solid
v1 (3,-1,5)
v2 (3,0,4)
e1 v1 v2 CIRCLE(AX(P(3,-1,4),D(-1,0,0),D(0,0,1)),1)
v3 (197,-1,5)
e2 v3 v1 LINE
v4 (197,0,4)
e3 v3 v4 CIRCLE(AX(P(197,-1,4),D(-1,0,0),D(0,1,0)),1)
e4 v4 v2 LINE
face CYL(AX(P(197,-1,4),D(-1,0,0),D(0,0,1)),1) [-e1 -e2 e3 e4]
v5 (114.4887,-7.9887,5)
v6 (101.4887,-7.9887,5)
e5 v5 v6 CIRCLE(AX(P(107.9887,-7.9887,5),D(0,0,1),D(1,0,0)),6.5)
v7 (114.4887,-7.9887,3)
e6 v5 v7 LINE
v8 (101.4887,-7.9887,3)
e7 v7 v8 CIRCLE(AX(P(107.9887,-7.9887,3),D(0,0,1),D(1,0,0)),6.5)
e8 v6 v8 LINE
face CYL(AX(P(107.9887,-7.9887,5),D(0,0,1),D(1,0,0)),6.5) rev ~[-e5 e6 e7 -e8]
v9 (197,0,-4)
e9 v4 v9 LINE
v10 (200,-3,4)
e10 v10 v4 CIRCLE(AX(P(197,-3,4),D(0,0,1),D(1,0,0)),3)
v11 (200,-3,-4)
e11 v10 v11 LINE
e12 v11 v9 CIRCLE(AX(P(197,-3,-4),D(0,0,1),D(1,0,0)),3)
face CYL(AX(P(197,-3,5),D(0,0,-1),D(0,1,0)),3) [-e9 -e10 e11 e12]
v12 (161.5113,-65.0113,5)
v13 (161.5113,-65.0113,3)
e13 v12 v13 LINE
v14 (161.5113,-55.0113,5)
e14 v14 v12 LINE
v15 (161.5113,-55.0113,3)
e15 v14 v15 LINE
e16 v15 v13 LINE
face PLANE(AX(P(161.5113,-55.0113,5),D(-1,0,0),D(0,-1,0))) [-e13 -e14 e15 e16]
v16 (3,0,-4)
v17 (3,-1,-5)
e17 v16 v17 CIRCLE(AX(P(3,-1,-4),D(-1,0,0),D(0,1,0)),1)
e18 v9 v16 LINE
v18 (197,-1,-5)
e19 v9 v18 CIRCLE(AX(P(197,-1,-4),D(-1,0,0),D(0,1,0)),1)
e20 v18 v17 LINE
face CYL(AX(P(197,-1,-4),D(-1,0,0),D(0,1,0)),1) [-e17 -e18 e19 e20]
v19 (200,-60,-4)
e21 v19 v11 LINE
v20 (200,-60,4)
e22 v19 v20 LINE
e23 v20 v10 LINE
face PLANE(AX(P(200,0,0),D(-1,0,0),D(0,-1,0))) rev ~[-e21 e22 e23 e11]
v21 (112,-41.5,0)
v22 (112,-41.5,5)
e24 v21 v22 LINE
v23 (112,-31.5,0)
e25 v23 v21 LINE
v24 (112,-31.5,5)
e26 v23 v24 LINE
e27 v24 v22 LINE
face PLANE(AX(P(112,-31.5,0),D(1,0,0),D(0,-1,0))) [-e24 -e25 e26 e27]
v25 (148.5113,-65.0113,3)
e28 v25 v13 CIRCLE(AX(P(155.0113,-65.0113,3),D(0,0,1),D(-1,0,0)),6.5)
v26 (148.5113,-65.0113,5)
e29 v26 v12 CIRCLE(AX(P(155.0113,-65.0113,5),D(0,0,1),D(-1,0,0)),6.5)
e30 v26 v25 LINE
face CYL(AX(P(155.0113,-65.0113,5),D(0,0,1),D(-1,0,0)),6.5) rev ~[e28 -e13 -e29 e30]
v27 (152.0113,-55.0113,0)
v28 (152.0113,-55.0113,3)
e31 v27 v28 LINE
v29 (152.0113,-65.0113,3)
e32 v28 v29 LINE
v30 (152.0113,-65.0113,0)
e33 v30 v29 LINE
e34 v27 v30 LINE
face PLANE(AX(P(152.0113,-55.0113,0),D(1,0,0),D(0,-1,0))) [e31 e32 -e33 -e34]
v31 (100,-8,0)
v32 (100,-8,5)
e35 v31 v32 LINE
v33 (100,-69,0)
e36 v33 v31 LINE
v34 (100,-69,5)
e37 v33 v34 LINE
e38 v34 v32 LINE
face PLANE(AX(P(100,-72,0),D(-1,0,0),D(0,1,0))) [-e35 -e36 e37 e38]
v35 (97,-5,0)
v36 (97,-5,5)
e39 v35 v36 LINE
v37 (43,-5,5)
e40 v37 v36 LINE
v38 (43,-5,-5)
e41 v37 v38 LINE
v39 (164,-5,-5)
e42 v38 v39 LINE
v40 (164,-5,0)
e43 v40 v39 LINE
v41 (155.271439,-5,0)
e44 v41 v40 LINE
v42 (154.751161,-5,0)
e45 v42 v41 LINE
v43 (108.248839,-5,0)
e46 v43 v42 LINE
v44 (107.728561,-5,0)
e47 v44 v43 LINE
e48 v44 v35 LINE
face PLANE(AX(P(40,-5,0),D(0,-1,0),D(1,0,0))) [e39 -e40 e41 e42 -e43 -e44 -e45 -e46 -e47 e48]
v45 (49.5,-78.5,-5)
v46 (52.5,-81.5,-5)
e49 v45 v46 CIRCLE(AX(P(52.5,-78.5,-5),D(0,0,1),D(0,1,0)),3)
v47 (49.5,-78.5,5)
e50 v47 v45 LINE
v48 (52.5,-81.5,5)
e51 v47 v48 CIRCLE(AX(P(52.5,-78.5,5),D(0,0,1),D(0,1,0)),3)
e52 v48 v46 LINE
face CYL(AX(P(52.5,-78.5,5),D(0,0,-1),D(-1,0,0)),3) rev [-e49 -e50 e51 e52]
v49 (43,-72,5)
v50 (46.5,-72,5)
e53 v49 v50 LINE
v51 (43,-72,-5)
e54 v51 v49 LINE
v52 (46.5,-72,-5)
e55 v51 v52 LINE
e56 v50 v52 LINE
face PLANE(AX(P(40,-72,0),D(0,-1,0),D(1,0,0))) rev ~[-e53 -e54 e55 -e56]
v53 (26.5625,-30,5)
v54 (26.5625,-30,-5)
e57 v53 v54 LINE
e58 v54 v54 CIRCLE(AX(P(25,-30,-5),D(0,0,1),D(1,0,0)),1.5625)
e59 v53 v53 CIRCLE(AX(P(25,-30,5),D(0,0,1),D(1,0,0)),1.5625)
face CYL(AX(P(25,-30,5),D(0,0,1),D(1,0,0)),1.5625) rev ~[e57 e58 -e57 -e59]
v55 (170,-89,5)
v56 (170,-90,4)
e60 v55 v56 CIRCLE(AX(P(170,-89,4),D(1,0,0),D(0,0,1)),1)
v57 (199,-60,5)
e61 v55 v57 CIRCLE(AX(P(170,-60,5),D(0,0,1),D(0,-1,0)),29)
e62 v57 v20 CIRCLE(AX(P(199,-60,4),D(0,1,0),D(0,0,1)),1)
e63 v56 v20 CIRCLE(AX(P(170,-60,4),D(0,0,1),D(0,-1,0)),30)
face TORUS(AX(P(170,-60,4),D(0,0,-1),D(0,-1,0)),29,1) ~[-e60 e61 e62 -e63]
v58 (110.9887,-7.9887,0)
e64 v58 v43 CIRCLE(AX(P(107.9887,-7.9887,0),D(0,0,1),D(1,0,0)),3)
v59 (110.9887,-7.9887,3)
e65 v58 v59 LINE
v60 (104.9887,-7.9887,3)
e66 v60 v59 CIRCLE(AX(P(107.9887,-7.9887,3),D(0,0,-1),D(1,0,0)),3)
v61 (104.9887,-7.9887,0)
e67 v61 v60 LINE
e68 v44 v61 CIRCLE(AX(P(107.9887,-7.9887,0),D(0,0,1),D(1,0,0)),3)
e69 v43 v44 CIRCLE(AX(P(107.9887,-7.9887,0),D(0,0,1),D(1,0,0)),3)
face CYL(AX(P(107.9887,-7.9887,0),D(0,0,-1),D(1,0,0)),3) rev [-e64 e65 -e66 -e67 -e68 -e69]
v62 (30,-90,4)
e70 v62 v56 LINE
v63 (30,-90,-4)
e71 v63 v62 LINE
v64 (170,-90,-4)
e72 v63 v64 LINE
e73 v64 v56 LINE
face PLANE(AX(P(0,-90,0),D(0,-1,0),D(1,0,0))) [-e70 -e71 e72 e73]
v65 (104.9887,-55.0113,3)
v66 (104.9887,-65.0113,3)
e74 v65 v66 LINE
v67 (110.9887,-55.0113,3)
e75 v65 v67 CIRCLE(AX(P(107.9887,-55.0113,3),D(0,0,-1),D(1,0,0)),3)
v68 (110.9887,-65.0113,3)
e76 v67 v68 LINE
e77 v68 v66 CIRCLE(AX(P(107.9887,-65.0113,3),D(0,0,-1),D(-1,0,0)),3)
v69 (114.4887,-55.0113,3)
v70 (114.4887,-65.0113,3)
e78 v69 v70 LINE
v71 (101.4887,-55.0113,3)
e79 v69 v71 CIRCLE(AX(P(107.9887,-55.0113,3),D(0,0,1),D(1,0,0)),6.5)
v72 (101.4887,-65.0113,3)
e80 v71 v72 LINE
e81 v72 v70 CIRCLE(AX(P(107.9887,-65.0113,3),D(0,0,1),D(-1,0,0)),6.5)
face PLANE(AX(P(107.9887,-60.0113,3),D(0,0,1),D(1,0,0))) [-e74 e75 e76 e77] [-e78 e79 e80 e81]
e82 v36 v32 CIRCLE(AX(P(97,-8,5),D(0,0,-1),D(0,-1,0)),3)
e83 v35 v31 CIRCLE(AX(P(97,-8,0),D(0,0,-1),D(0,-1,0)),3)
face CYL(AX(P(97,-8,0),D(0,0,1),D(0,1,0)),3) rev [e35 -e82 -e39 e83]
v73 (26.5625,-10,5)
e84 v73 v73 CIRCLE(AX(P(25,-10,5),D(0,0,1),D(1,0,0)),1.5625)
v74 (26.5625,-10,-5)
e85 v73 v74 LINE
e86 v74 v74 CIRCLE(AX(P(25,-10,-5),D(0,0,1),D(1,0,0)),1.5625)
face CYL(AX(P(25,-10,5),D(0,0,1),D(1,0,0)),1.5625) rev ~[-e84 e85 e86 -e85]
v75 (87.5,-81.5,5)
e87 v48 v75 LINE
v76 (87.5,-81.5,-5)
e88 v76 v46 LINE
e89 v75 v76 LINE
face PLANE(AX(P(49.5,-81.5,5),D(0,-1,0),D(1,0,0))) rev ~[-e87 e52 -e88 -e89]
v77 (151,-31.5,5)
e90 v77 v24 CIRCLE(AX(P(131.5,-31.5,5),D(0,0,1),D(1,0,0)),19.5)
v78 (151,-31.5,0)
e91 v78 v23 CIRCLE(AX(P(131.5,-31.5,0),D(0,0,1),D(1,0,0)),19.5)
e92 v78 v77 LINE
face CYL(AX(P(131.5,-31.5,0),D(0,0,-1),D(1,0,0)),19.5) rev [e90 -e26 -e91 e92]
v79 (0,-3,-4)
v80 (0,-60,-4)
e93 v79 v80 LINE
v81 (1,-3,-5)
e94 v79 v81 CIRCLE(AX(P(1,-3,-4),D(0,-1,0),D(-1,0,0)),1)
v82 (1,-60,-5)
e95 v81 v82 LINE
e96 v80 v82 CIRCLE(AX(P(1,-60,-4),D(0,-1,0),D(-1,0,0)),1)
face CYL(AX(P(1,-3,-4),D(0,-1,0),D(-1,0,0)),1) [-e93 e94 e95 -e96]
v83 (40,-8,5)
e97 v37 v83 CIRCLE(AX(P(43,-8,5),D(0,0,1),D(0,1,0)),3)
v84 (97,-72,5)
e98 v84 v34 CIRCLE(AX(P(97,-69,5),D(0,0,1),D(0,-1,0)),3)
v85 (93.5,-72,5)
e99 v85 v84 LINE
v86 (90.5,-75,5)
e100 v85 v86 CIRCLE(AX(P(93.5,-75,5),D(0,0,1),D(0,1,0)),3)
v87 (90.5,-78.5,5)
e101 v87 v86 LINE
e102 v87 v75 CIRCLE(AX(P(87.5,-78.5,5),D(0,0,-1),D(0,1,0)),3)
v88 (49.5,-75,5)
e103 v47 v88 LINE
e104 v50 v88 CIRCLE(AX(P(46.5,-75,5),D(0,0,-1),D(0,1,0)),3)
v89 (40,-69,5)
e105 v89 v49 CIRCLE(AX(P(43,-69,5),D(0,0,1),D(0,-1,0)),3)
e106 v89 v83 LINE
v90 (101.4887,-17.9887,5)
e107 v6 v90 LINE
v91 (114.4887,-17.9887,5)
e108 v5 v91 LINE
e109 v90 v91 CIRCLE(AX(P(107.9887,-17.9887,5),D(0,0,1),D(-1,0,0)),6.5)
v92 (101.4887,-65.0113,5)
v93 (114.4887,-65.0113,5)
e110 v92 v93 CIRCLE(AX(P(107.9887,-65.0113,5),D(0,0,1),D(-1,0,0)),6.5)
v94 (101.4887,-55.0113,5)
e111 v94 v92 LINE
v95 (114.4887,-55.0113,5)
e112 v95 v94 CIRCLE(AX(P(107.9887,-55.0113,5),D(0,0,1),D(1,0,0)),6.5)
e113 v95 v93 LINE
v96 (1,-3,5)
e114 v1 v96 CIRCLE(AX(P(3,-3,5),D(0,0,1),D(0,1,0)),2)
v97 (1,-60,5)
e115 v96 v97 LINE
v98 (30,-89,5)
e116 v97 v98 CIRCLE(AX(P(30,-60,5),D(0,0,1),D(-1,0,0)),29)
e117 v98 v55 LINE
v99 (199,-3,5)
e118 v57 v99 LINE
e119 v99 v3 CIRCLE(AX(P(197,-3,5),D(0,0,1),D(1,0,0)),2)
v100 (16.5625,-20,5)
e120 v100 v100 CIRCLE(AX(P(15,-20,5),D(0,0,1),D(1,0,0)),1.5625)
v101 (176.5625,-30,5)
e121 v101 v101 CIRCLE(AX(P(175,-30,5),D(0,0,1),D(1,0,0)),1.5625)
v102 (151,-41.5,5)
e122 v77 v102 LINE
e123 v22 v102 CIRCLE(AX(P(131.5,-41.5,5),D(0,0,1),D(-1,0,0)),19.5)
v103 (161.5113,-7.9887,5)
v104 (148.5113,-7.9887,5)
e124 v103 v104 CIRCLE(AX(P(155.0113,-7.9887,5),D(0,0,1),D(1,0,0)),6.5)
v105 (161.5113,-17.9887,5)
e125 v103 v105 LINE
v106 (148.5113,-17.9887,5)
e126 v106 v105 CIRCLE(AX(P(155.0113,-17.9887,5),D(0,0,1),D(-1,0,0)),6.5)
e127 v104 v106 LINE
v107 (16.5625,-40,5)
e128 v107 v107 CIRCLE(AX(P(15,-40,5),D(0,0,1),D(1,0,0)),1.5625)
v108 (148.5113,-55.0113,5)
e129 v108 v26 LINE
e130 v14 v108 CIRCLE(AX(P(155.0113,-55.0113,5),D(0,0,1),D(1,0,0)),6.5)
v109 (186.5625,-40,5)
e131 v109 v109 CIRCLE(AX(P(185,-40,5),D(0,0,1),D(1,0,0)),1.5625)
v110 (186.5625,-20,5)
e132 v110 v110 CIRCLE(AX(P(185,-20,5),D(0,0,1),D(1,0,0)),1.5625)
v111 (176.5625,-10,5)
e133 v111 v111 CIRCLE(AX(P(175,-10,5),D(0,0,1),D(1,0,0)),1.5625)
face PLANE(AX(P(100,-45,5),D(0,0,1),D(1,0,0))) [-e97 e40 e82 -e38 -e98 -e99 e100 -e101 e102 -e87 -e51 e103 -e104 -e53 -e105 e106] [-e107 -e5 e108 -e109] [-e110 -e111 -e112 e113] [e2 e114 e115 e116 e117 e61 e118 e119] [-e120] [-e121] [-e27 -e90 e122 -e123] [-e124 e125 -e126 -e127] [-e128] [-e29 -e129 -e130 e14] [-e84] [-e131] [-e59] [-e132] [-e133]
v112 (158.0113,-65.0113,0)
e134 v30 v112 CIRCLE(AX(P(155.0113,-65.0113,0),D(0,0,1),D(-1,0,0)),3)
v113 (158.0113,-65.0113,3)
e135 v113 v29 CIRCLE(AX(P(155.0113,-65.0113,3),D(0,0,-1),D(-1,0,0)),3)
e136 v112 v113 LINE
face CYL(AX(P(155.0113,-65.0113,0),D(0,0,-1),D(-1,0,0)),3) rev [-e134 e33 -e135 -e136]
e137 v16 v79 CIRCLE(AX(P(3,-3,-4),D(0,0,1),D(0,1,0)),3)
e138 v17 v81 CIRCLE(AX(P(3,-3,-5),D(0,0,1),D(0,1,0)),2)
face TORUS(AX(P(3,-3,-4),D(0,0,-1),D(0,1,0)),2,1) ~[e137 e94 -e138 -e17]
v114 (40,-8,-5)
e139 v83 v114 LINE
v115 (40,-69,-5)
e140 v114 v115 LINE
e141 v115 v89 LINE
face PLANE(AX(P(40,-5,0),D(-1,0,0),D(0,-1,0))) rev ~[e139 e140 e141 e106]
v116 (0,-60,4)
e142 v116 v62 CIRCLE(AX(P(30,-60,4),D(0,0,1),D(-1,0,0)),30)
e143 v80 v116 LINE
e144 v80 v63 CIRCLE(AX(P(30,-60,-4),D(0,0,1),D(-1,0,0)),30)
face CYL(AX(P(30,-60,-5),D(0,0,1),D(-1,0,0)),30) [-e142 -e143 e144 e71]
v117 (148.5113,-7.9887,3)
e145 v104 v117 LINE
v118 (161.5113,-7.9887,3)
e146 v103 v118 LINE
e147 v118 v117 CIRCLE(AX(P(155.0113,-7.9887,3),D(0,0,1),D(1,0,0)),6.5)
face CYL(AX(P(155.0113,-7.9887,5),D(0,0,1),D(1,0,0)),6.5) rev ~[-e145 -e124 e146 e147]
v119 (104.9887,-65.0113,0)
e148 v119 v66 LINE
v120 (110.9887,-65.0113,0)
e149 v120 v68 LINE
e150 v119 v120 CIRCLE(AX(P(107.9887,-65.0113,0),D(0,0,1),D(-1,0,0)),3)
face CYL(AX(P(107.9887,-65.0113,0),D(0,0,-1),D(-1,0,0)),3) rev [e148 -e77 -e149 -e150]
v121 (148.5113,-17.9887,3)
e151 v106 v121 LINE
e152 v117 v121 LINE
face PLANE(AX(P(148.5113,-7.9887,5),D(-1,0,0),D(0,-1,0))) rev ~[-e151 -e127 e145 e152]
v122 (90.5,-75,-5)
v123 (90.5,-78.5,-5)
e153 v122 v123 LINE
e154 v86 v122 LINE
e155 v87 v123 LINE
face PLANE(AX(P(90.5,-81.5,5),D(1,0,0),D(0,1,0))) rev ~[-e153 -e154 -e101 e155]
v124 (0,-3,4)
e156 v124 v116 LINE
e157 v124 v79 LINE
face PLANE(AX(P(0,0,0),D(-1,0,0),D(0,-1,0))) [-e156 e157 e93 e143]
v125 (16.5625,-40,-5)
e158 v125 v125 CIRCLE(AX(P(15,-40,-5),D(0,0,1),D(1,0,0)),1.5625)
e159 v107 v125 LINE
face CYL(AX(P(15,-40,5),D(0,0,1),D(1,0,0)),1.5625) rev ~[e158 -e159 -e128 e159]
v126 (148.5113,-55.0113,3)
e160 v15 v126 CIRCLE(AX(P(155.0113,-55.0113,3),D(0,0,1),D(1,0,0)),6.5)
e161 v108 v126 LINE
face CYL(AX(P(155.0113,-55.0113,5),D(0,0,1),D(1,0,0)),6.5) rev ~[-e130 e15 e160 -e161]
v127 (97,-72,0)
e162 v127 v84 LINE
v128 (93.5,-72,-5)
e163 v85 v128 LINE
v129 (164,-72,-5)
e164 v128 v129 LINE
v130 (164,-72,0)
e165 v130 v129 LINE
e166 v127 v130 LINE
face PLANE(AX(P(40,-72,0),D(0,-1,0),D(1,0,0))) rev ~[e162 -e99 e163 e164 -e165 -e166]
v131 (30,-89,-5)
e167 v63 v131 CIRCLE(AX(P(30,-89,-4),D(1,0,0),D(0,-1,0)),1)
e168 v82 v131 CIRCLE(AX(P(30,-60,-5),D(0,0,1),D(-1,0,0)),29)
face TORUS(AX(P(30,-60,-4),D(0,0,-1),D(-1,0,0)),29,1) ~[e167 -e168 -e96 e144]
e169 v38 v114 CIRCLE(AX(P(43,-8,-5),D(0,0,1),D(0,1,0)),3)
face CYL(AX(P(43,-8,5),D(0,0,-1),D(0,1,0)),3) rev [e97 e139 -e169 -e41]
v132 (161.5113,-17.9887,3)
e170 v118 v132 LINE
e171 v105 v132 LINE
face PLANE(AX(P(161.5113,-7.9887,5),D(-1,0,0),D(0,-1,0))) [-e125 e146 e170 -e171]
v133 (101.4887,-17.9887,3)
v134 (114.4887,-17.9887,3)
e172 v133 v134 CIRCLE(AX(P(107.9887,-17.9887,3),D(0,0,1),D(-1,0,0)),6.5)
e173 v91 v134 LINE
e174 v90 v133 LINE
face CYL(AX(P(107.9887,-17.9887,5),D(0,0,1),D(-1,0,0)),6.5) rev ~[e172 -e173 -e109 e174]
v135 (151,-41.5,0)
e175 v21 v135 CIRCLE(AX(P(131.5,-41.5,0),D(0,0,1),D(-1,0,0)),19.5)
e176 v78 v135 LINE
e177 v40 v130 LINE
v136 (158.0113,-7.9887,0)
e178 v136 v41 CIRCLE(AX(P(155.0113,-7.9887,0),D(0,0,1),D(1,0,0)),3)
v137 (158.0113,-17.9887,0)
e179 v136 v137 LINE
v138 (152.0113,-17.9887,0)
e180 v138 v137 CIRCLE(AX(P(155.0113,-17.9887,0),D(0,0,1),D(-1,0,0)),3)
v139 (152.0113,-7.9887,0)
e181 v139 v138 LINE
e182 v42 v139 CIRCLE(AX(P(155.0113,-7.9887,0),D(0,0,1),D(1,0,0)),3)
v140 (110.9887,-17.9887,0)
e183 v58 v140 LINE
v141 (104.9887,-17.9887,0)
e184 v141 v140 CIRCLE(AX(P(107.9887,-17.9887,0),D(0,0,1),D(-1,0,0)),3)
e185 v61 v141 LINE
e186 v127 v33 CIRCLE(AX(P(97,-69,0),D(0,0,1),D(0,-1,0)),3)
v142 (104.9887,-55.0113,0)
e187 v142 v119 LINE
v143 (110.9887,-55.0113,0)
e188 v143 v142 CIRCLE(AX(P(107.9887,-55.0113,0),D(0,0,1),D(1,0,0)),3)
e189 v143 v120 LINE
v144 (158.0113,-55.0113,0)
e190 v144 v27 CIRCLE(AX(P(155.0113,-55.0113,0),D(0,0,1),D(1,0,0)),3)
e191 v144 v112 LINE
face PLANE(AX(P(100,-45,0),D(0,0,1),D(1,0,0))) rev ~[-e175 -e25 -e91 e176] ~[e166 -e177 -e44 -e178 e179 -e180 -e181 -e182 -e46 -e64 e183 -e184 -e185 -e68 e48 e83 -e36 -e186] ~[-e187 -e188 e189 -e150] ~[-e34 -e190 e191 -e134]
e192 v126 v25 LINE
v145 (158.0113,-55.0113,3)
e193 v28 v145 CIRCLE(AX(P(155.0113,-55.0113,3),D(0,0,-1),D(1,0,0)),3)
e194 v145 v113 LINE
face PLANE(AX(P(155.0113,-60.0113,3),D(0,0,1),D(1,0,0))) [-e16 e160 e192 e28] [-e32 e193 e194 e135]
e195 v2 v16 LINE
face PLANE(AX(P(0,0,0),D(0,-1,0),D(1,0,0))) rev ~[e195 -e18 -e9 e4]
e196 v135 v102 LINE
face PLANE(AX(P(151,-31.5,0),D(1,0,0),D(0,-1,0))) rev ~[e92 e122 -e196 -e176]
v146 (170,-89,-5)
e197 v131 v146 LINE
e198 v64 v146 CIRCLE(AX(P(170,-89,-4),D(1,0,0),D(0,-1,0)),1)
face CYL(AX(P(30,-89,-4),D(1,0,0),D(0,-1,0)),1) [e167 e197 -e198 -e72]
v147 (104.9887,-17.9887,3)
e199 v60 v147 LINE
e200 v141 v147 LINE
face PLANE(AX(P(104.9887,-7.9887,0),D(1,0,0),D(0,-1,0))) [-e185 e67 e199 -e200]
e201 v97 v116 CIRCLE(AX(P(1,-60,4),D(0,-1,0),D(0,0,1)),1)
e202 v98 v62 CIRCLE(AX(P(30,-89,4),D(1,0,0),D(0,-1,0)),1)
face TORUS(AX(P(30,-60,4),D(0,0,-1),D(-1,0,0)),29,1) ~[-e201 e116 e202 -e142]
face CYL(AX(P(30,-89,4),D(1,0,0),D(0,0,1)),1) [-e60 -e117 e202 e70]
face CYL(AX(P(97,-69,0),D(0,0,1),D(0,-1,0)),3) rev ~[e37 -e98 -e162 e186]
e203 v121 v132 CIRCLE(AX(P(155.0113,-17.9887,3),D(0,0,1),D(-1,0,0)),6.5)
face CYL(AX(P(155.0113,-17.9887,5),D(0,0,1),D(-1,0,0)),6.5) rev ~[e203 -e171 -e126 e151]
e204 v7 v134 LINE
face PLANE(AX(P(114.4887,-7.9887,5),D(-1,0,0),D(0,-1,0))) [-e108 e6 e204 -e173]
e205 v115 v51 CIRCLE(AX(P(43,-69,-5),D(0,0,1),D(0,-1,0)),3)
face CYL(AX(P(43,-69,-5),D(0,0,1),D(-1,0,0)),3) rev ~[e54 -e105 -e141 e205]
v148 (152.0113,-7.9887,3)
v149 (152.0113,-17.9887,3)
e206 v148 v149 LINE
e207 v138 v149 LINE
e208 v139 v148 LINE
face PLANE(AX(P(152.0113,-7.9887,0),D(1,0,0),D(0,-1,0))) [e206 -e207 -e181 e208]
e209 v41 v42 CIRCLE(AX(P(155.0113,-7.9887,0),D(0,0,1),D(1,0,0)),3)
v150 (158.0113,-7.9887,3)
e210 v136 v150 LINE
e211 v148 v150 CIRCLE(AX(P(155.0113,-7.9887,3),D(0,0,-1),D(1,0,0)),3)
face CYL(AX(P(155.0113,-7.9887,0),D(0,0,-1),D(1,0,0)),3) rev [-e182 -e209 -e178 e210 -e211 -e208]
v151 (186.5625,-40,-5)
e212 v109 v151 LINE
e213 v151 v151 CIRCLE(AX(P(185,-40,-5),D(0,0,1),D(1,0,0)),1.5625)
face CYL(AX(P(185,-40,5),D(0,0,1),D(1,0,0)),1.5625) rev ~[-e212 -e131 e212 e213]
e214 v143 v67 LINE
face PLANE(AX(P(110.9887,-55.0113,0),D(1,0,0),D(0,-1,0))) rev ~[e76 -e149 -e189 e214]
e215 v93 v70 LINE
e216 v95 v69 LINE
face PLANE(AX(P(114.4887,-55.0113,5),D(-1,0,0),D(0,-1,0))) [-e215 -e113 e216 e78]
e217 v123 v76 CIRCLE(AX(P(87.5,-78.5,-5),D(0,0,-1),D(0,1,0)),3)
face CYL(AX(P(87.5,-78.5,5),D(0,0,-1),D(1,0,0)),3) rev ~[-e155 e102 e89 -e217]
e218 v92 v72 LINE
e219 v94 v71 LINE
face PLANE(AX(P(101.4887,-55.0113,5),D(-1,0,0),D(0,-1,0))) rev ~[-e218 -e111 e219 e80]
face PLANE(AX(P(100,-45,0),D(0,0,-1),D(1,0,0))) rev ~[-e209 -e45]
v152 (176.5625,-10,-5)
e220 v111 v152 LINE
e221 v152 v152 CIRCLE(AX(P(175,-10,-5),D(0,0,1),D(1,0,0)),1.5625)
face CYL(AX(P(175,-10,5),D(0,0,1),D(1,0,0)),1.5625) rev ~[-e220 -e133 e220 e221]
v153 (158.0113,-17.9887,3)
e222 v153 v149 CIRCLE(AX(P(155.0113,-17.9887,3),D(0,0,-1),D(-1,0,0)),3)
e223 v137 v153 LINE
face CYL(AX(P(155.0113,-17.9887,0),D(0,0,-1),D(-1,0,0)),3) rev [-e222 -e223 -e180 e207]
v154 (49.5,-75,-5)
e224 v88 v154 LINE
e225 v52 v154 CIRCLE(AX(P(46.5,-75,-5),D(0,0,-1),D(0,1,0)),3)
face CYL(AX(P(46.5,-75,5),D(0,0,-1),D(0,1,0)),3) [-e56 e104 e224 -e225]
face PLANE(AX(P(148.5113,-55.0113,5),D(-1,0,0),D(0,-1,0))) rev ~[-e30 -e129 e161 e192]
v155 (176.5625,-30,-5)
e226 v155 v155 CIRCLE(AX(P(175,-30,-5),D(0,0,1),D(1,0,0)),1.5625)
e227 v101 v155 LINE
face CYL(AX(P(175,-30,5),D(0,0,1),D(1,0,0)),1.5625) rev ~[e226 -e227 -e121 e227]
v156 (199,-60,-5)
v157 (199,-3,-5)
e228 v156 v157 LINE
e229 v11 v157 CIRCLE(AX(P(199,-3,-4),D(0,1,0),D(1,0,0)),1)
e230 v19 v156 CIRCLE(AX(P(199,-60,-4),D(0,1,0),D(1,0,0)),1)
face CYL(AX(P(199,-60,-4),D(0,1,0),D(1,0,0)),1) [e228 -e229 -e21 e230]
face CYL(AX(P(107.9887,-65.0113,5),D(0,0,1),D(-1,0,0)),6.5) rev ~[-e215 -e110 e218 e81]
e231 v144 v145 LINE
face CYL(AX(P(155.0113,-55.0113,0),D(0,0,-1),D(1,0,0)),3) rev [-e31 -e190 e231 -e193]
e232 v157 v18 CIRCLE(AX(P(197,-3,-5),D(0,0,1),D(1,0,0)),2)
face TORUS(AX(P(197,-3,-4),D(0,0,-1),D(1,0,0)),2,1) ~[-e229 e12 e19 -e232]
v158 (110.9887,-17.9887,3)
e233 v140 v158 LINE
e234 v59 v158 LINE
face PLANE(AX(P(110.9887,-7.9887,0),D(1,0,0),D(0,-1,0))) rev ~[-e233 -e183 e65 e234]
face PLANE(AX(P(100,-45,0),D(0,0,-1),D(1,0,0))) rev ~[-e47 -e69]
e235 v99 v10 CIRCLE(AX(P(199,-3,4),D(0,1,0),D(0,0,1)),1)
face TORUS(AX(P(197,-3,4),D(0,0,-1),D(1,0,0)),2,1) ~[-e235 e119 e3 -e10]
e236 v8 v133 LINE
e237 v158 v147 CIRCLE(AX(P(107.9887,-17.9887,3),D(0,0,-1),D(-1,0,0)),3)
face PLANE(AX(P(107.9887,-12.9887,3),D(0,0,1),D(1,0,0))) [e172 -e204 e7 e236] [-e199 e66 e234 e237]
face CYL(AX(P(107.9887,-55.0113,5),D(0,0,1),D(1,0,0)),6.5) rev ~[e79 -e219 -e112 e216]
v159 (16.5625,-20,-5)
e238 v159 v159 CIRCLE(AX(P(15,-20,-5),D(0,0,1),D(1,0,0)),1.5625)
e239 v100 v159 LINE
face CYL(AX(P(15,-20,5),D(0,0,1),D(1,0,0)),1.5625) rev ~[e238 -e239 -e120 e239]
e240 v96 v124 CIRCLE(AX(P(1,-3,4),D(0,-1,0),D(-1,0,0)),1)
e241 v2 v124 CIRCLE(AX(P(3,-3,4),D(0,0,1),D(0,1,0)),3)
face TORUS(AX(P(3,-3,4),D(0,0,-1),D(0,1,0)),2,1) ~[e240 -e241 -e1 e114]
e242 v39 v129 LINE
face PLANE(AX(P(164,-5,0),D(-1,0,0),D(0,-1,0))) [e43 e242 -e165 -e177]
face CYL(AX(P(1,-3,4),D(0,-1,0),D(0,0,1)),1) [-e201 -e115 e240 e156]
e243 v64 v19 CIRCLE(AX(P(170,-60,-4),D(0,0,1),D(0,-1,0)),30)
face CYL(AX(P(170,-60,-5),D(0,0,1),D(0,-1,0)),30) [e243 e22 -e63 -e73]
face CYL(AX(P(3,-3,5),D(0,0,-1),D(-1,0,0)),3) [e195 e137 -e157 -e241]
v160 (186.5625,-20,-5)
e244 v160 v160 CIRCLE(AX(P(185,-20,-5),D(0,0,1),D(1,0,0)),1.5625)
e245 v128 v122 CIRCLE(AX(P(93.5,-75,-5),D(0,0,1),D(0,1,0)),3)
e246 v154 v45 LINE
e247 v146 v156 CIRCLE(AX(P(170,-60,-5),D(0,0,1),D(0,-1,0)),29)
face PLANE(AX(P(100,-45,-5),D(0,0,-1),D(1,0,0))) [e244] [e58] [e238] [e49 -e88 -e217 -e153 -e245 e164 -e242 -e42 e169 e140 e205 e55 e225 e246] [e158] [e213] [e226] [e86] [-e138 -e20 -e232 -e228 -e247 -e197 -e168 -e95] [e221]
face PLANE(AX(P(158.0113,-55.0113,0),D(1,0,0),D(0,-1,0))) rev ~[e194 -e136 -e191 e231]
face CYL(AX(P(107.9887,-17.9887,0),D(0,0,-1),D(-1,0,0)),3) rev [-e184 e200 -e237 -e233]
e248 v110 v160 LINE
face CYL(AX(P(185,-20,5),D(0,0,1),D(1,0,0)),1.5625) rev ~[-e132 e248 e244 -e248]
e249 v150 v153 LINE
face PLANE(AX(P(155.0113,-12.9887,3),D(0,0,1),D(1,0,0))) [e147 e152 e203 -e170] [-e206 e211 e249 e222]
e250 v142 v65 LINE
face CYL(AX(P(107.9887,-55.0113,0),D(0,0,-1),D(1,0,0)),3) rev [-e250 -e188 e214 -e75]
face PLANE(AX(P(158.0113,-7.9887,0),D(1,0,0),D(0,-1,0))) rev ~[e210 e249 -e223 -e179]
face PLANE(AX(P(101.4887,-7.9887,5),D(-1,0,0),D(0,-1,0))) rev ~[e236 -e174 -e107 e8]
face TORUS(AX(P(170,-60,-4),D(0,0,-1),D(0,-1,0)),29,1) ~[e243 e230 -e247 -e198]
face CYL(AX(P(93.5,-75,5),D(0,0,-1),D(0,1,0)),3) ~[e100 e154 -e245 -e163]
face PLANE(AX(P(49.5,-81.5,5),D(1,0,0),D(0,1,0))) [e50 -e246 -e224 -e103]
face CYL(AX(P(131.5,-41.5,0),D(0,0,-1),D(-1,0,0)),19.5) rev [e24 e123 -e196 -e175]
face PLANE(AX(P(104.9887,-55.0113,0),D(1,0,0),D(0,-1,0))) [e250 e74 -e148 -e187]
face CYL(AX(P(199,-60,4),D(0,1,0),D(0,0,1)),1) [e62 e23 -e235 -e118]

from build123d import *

# Parameters (mm, degrees)
SKETCH_W        = 200
SKETCH_H        = 90
SKETCH_W_2      = 60
SKETCH_H_2      = 67
PAD_DEPTH       = 5
SKETCH001_W     = 200
SKETCH001_H     = 90
SKETCH001_W_2   = 124
SKETCH001_H_2   = 67
PAD001_DEPTH    = 5
SKETCH002_W     = 41
SKETCH002_H     = 9.5
POCKET_DEPTH    = 10.001
SKETCH003_R     = 1.5625
POCKET001_DEPTH = 10.001
FILLET_R        = 30
FILLET001_R     = 3
FILLET002_R     = 3
POCKET002_DEPTH = 2
FILLET003_R     = 1
FILLET004_R     = 1


with BuildPart() as part:
    # Sketch → Pad (new body)
    with BuildSketch(Plane.XY):
        with Locations((100, -45)):
            Rectangle(SKETCH_W, SKETCH_H)
        with Locations((70, -38.5)):
            Rectangle(SKETCH_W_2, SKETCH_H_2, mode=Mode.SUBTRACT)
        with BuildLine():
            ThreePointArc((158.0113, -7.9887), (155.0113, -4.9887), (152.0113, -7.9887))
            Line((152.0113, -7.9887), (152.0113, -17.9887))
            ThreePointArc((152.0113, -17.9887), (155.0113, -20.9887), (158.0113, -17.9887))
            Line((158.0113, -7.9887), (158.0113, -17.9887))
        make_face(mode=Mode.SUBTRACT)
        with BuildLine():
            ThreePointArc((151, -31.5), (131.5, -12), (112, -31.5))
            Line((112, -31.5), (112, -41.5))
            ThreePointArc((112, -41.5), (131.5, -61), (151, -41.5))
            Line((151, -31.5), (151, -41.5))
        make_face(mode=Mode.SUBTRACT)
        with BuildLine():
            ThreePointArc((158.0113, -55.0113), (155.0113, -52.0113), (152.0113, -55.0113))
            Line((152.0113, -55.0113), (152.0113, -65.0113))
            ThreePointArc((152.0113, -65.0113), (155.0113, -68.0113), (158.0113, -65.0113))
            Line((158.0113, -55.0113), (158.0113, -65.0113))
        make_face(mode=Mode.SUBTRACT)
        with BuildLine():
            ThreePointArc((110.9887, -55.0113), (107.9887, -52.0113), (104.9887, -55.0113))
            Line((104.9887, -55.0113), (104.9887, -65.0113))
            ThreePointArc((104.9887, -65.0113), (107.9887, -68.0113), (110.9887, -65.0113))
            Line((110.9887, -55.0113), (110.9887, -65.0113))
        make_face(mode=Mode.SUBTRACT)
        with BuildLine():
            ThreePointArc((110.9887, -7.9887), (107.9887, -4.9887), (104.9887, -7.9887))
            Line((104.9887, -7.9887), (104.9887, -17.9887))
            ThreePointArc((104.9887, -17.9887), (107.9887, -20.9887), (110.9887, -17.9887))
            Line((110.9887, -7.9887), (110.9887, -17.9887))
        make_face(mode=Mode.SUBTRACT)
    extrude(amount=PAD_DEPTH)

    # Sketch001 → Pad001 (join)
    with BuildSketch(Plane(origin=(0, 0, 0), x_dir=(1, 0, 0), z_dir=(0, 0, -1))):
        with Locations((100, 45)):
            Rectangle(SKETCH001_W, SKETCH001_H)
        with Locations((102, 38.5)):
            Rectangle(SKETCH001_W_2, SKETCH001_H_2, mode=Mode.SUBTRACT)
    extrude(amount=PAD001_DEPTH)

    # Sketch002 → Pocket (cut, through all)
    with BuildSketch(Plane.XY.offset(5)):
        with Locations((70, -76.75)):
            Rectangle(SKETCH002_W, SKETCH002_H)
    extrude(amount=-POCKET_DEPTH, mode=Mode.SUBTRACT)

    # Sketch003 → Pocket001 (cut, through all)
    with BuildSketch(Plane.XY.offset(5)):
        with Locations((25, -10)):
            Circle(SKETCH003_R)
        with Locations((15, -20)):
            Circle(SKETCH003_R)
        with Locations((15, -40)):
            Circle(SKETCH003_R)
        with Locations((25, -30)):
            Circle(SKETCH003_R)
        with Locations((175, -10)):
            Circle(SKETCH003_R)
        with Locations((185, -20)):
            Circle(SKETCH003_R)
        with Locations((185, -40)):
            Circle(SKETCH003_R)
        with Locations((175, -30)):
            Circle(SKETCH003_R)
    extrude(amount=-POCKET001_DEPTH, mode=Mode.SUBTRACT)

    # Fillet
    fillet_edges = [part.edges().sort_by_distance(p)[0] for p in [
        (0, -90, 2.5),
        (0, -90, -2.5),
        (200, -90, 2.5),
        (200, -90, -2.5),
    ]]
    fillet(fillet_edges, radius=FILLET_R)

    # Fillet001
    fillet001_edges = [part.edges().sort_by_distance(p)[0] for p in [
        (100, -5, 2.5),
        (40, -5, 2.5),
        (40, -5, -2.5),
        (49.5, -81.5, 0),
        (49.5, -72, 2.5),
        (49.5, -72, -2.5),
        (40, -72, 2.5),
        (40, -72, -2.5),
        (200, 0, 2.5),
        (200, 0, -2.5),
        (0, 0, 2.5),
        (0, 0, -2.5),
        (90.5, -81.5, 0),
        (90.5, -72, 2.5),
        (90.5, -72, -2.5),
    ]]
    fillet(fillet001_edges, radius=FILLET001_R)

    # Fillet002
    fillet002_edges = [part.edges().sort_by_distance(p)[0] for p in [
        (100, -72, 2.5),
    ]]
    fillet(fillet002_edges, radius=FILLET002_R)

    # Sketch004 (on Face1 of Fillet002) → Pocket002 (cut)
    with BuildSketch(Plane.XY.offset(5)):
        with BuildLine():
            ThreePointArc((161.5113, -7.9887), (155.0113, -1.4887), (148.5113, -7.9887))
            Line((148.5113, -7.9887), (148.5113, -17.9887))
            ThreePointArc((148.5113, -17.9887), (155.0113, -24.4887), (161.5113, -17.9887))
            Line((161.5113, -7.9887), (161.5113, -17.9887))
        make_face()
        with BuildLine():
            ThreePointArc((114.4887, -7.9887), (107.9887, -1.4887), (101.4887, -7.9887))
            Line((101.4887, -7.9887), (101.4887, -17.9887))
            ThreePointArc((101.4887, -17.9887), (107.9887, -24.4887), (114.4887, -17.9887))
            Line((114.4887, -7.9887), (114.4887, -17.9887))
        make_face()
        with BuildLine():
            ThreePointArc((114.4887, -55.0113), (107.9887, -48.5113), (101.4887, -55.0113))
            Line((101.4887, -55.0113), (101.4887, -65.0113))
            ThreePointArc((101.4887, -65.0113), (107.9887, -71.5113), (114.4887, -65.0113))
            Line((114.4887, -55.0113), (114.4887, -65.0113))
        make_face()
        with BuildLine():
            ThreePointArc((161.5113, -55.0113), (155.0113, -48.5113), (148.5113, -55.0113))
            Line((148.5113, -55.0113), (148.5113, -65.0113))
            ThreePointArc((148.5113, -65.0113), (155.0113, -71.5113), (161.5113, -65.0113))
            Line((161.5113, -55.0113), (161.5113, -65.0113))
        make_face()
    extrude(amount=-POCKET002_DEPTH, mode=Mode.SUBTRACT)

    # Fillet003
    fillet003_edges = [part.edges().sort_by_distance(p)[0] for p in [
        (200, -31.5, 5),
        (8.786797, -81.213203, 5),
        (100, -90, 5),
        (191.213203, -81.213203, 5),
        (0, -31.5, 5),
        (0.87868, -0.87868, 5),
        (100, 0, 5),
        (199.12132, -0.87868, 5),
    ]]
    fillet(fillet003_edges, radius=FILLET003_R)

    # Fillet004
    fillet004_edges = [part.edges().sort_by_distance(p)[0] for p in [
        (0, -31.5, -5),
        (8.786797, -81.213203, -5),
        (100, -90, -5),
        (191.213203, -81.213203, -5),
        (200, -31.5, -5),
        (0.87868, -0.87868, -5),
        (100, 0, -5),
        (199.12132, -0.87868, -5),
    ]]
    fillet(fillet004_edges, radius=FILLET004_R)


solid = part.part
